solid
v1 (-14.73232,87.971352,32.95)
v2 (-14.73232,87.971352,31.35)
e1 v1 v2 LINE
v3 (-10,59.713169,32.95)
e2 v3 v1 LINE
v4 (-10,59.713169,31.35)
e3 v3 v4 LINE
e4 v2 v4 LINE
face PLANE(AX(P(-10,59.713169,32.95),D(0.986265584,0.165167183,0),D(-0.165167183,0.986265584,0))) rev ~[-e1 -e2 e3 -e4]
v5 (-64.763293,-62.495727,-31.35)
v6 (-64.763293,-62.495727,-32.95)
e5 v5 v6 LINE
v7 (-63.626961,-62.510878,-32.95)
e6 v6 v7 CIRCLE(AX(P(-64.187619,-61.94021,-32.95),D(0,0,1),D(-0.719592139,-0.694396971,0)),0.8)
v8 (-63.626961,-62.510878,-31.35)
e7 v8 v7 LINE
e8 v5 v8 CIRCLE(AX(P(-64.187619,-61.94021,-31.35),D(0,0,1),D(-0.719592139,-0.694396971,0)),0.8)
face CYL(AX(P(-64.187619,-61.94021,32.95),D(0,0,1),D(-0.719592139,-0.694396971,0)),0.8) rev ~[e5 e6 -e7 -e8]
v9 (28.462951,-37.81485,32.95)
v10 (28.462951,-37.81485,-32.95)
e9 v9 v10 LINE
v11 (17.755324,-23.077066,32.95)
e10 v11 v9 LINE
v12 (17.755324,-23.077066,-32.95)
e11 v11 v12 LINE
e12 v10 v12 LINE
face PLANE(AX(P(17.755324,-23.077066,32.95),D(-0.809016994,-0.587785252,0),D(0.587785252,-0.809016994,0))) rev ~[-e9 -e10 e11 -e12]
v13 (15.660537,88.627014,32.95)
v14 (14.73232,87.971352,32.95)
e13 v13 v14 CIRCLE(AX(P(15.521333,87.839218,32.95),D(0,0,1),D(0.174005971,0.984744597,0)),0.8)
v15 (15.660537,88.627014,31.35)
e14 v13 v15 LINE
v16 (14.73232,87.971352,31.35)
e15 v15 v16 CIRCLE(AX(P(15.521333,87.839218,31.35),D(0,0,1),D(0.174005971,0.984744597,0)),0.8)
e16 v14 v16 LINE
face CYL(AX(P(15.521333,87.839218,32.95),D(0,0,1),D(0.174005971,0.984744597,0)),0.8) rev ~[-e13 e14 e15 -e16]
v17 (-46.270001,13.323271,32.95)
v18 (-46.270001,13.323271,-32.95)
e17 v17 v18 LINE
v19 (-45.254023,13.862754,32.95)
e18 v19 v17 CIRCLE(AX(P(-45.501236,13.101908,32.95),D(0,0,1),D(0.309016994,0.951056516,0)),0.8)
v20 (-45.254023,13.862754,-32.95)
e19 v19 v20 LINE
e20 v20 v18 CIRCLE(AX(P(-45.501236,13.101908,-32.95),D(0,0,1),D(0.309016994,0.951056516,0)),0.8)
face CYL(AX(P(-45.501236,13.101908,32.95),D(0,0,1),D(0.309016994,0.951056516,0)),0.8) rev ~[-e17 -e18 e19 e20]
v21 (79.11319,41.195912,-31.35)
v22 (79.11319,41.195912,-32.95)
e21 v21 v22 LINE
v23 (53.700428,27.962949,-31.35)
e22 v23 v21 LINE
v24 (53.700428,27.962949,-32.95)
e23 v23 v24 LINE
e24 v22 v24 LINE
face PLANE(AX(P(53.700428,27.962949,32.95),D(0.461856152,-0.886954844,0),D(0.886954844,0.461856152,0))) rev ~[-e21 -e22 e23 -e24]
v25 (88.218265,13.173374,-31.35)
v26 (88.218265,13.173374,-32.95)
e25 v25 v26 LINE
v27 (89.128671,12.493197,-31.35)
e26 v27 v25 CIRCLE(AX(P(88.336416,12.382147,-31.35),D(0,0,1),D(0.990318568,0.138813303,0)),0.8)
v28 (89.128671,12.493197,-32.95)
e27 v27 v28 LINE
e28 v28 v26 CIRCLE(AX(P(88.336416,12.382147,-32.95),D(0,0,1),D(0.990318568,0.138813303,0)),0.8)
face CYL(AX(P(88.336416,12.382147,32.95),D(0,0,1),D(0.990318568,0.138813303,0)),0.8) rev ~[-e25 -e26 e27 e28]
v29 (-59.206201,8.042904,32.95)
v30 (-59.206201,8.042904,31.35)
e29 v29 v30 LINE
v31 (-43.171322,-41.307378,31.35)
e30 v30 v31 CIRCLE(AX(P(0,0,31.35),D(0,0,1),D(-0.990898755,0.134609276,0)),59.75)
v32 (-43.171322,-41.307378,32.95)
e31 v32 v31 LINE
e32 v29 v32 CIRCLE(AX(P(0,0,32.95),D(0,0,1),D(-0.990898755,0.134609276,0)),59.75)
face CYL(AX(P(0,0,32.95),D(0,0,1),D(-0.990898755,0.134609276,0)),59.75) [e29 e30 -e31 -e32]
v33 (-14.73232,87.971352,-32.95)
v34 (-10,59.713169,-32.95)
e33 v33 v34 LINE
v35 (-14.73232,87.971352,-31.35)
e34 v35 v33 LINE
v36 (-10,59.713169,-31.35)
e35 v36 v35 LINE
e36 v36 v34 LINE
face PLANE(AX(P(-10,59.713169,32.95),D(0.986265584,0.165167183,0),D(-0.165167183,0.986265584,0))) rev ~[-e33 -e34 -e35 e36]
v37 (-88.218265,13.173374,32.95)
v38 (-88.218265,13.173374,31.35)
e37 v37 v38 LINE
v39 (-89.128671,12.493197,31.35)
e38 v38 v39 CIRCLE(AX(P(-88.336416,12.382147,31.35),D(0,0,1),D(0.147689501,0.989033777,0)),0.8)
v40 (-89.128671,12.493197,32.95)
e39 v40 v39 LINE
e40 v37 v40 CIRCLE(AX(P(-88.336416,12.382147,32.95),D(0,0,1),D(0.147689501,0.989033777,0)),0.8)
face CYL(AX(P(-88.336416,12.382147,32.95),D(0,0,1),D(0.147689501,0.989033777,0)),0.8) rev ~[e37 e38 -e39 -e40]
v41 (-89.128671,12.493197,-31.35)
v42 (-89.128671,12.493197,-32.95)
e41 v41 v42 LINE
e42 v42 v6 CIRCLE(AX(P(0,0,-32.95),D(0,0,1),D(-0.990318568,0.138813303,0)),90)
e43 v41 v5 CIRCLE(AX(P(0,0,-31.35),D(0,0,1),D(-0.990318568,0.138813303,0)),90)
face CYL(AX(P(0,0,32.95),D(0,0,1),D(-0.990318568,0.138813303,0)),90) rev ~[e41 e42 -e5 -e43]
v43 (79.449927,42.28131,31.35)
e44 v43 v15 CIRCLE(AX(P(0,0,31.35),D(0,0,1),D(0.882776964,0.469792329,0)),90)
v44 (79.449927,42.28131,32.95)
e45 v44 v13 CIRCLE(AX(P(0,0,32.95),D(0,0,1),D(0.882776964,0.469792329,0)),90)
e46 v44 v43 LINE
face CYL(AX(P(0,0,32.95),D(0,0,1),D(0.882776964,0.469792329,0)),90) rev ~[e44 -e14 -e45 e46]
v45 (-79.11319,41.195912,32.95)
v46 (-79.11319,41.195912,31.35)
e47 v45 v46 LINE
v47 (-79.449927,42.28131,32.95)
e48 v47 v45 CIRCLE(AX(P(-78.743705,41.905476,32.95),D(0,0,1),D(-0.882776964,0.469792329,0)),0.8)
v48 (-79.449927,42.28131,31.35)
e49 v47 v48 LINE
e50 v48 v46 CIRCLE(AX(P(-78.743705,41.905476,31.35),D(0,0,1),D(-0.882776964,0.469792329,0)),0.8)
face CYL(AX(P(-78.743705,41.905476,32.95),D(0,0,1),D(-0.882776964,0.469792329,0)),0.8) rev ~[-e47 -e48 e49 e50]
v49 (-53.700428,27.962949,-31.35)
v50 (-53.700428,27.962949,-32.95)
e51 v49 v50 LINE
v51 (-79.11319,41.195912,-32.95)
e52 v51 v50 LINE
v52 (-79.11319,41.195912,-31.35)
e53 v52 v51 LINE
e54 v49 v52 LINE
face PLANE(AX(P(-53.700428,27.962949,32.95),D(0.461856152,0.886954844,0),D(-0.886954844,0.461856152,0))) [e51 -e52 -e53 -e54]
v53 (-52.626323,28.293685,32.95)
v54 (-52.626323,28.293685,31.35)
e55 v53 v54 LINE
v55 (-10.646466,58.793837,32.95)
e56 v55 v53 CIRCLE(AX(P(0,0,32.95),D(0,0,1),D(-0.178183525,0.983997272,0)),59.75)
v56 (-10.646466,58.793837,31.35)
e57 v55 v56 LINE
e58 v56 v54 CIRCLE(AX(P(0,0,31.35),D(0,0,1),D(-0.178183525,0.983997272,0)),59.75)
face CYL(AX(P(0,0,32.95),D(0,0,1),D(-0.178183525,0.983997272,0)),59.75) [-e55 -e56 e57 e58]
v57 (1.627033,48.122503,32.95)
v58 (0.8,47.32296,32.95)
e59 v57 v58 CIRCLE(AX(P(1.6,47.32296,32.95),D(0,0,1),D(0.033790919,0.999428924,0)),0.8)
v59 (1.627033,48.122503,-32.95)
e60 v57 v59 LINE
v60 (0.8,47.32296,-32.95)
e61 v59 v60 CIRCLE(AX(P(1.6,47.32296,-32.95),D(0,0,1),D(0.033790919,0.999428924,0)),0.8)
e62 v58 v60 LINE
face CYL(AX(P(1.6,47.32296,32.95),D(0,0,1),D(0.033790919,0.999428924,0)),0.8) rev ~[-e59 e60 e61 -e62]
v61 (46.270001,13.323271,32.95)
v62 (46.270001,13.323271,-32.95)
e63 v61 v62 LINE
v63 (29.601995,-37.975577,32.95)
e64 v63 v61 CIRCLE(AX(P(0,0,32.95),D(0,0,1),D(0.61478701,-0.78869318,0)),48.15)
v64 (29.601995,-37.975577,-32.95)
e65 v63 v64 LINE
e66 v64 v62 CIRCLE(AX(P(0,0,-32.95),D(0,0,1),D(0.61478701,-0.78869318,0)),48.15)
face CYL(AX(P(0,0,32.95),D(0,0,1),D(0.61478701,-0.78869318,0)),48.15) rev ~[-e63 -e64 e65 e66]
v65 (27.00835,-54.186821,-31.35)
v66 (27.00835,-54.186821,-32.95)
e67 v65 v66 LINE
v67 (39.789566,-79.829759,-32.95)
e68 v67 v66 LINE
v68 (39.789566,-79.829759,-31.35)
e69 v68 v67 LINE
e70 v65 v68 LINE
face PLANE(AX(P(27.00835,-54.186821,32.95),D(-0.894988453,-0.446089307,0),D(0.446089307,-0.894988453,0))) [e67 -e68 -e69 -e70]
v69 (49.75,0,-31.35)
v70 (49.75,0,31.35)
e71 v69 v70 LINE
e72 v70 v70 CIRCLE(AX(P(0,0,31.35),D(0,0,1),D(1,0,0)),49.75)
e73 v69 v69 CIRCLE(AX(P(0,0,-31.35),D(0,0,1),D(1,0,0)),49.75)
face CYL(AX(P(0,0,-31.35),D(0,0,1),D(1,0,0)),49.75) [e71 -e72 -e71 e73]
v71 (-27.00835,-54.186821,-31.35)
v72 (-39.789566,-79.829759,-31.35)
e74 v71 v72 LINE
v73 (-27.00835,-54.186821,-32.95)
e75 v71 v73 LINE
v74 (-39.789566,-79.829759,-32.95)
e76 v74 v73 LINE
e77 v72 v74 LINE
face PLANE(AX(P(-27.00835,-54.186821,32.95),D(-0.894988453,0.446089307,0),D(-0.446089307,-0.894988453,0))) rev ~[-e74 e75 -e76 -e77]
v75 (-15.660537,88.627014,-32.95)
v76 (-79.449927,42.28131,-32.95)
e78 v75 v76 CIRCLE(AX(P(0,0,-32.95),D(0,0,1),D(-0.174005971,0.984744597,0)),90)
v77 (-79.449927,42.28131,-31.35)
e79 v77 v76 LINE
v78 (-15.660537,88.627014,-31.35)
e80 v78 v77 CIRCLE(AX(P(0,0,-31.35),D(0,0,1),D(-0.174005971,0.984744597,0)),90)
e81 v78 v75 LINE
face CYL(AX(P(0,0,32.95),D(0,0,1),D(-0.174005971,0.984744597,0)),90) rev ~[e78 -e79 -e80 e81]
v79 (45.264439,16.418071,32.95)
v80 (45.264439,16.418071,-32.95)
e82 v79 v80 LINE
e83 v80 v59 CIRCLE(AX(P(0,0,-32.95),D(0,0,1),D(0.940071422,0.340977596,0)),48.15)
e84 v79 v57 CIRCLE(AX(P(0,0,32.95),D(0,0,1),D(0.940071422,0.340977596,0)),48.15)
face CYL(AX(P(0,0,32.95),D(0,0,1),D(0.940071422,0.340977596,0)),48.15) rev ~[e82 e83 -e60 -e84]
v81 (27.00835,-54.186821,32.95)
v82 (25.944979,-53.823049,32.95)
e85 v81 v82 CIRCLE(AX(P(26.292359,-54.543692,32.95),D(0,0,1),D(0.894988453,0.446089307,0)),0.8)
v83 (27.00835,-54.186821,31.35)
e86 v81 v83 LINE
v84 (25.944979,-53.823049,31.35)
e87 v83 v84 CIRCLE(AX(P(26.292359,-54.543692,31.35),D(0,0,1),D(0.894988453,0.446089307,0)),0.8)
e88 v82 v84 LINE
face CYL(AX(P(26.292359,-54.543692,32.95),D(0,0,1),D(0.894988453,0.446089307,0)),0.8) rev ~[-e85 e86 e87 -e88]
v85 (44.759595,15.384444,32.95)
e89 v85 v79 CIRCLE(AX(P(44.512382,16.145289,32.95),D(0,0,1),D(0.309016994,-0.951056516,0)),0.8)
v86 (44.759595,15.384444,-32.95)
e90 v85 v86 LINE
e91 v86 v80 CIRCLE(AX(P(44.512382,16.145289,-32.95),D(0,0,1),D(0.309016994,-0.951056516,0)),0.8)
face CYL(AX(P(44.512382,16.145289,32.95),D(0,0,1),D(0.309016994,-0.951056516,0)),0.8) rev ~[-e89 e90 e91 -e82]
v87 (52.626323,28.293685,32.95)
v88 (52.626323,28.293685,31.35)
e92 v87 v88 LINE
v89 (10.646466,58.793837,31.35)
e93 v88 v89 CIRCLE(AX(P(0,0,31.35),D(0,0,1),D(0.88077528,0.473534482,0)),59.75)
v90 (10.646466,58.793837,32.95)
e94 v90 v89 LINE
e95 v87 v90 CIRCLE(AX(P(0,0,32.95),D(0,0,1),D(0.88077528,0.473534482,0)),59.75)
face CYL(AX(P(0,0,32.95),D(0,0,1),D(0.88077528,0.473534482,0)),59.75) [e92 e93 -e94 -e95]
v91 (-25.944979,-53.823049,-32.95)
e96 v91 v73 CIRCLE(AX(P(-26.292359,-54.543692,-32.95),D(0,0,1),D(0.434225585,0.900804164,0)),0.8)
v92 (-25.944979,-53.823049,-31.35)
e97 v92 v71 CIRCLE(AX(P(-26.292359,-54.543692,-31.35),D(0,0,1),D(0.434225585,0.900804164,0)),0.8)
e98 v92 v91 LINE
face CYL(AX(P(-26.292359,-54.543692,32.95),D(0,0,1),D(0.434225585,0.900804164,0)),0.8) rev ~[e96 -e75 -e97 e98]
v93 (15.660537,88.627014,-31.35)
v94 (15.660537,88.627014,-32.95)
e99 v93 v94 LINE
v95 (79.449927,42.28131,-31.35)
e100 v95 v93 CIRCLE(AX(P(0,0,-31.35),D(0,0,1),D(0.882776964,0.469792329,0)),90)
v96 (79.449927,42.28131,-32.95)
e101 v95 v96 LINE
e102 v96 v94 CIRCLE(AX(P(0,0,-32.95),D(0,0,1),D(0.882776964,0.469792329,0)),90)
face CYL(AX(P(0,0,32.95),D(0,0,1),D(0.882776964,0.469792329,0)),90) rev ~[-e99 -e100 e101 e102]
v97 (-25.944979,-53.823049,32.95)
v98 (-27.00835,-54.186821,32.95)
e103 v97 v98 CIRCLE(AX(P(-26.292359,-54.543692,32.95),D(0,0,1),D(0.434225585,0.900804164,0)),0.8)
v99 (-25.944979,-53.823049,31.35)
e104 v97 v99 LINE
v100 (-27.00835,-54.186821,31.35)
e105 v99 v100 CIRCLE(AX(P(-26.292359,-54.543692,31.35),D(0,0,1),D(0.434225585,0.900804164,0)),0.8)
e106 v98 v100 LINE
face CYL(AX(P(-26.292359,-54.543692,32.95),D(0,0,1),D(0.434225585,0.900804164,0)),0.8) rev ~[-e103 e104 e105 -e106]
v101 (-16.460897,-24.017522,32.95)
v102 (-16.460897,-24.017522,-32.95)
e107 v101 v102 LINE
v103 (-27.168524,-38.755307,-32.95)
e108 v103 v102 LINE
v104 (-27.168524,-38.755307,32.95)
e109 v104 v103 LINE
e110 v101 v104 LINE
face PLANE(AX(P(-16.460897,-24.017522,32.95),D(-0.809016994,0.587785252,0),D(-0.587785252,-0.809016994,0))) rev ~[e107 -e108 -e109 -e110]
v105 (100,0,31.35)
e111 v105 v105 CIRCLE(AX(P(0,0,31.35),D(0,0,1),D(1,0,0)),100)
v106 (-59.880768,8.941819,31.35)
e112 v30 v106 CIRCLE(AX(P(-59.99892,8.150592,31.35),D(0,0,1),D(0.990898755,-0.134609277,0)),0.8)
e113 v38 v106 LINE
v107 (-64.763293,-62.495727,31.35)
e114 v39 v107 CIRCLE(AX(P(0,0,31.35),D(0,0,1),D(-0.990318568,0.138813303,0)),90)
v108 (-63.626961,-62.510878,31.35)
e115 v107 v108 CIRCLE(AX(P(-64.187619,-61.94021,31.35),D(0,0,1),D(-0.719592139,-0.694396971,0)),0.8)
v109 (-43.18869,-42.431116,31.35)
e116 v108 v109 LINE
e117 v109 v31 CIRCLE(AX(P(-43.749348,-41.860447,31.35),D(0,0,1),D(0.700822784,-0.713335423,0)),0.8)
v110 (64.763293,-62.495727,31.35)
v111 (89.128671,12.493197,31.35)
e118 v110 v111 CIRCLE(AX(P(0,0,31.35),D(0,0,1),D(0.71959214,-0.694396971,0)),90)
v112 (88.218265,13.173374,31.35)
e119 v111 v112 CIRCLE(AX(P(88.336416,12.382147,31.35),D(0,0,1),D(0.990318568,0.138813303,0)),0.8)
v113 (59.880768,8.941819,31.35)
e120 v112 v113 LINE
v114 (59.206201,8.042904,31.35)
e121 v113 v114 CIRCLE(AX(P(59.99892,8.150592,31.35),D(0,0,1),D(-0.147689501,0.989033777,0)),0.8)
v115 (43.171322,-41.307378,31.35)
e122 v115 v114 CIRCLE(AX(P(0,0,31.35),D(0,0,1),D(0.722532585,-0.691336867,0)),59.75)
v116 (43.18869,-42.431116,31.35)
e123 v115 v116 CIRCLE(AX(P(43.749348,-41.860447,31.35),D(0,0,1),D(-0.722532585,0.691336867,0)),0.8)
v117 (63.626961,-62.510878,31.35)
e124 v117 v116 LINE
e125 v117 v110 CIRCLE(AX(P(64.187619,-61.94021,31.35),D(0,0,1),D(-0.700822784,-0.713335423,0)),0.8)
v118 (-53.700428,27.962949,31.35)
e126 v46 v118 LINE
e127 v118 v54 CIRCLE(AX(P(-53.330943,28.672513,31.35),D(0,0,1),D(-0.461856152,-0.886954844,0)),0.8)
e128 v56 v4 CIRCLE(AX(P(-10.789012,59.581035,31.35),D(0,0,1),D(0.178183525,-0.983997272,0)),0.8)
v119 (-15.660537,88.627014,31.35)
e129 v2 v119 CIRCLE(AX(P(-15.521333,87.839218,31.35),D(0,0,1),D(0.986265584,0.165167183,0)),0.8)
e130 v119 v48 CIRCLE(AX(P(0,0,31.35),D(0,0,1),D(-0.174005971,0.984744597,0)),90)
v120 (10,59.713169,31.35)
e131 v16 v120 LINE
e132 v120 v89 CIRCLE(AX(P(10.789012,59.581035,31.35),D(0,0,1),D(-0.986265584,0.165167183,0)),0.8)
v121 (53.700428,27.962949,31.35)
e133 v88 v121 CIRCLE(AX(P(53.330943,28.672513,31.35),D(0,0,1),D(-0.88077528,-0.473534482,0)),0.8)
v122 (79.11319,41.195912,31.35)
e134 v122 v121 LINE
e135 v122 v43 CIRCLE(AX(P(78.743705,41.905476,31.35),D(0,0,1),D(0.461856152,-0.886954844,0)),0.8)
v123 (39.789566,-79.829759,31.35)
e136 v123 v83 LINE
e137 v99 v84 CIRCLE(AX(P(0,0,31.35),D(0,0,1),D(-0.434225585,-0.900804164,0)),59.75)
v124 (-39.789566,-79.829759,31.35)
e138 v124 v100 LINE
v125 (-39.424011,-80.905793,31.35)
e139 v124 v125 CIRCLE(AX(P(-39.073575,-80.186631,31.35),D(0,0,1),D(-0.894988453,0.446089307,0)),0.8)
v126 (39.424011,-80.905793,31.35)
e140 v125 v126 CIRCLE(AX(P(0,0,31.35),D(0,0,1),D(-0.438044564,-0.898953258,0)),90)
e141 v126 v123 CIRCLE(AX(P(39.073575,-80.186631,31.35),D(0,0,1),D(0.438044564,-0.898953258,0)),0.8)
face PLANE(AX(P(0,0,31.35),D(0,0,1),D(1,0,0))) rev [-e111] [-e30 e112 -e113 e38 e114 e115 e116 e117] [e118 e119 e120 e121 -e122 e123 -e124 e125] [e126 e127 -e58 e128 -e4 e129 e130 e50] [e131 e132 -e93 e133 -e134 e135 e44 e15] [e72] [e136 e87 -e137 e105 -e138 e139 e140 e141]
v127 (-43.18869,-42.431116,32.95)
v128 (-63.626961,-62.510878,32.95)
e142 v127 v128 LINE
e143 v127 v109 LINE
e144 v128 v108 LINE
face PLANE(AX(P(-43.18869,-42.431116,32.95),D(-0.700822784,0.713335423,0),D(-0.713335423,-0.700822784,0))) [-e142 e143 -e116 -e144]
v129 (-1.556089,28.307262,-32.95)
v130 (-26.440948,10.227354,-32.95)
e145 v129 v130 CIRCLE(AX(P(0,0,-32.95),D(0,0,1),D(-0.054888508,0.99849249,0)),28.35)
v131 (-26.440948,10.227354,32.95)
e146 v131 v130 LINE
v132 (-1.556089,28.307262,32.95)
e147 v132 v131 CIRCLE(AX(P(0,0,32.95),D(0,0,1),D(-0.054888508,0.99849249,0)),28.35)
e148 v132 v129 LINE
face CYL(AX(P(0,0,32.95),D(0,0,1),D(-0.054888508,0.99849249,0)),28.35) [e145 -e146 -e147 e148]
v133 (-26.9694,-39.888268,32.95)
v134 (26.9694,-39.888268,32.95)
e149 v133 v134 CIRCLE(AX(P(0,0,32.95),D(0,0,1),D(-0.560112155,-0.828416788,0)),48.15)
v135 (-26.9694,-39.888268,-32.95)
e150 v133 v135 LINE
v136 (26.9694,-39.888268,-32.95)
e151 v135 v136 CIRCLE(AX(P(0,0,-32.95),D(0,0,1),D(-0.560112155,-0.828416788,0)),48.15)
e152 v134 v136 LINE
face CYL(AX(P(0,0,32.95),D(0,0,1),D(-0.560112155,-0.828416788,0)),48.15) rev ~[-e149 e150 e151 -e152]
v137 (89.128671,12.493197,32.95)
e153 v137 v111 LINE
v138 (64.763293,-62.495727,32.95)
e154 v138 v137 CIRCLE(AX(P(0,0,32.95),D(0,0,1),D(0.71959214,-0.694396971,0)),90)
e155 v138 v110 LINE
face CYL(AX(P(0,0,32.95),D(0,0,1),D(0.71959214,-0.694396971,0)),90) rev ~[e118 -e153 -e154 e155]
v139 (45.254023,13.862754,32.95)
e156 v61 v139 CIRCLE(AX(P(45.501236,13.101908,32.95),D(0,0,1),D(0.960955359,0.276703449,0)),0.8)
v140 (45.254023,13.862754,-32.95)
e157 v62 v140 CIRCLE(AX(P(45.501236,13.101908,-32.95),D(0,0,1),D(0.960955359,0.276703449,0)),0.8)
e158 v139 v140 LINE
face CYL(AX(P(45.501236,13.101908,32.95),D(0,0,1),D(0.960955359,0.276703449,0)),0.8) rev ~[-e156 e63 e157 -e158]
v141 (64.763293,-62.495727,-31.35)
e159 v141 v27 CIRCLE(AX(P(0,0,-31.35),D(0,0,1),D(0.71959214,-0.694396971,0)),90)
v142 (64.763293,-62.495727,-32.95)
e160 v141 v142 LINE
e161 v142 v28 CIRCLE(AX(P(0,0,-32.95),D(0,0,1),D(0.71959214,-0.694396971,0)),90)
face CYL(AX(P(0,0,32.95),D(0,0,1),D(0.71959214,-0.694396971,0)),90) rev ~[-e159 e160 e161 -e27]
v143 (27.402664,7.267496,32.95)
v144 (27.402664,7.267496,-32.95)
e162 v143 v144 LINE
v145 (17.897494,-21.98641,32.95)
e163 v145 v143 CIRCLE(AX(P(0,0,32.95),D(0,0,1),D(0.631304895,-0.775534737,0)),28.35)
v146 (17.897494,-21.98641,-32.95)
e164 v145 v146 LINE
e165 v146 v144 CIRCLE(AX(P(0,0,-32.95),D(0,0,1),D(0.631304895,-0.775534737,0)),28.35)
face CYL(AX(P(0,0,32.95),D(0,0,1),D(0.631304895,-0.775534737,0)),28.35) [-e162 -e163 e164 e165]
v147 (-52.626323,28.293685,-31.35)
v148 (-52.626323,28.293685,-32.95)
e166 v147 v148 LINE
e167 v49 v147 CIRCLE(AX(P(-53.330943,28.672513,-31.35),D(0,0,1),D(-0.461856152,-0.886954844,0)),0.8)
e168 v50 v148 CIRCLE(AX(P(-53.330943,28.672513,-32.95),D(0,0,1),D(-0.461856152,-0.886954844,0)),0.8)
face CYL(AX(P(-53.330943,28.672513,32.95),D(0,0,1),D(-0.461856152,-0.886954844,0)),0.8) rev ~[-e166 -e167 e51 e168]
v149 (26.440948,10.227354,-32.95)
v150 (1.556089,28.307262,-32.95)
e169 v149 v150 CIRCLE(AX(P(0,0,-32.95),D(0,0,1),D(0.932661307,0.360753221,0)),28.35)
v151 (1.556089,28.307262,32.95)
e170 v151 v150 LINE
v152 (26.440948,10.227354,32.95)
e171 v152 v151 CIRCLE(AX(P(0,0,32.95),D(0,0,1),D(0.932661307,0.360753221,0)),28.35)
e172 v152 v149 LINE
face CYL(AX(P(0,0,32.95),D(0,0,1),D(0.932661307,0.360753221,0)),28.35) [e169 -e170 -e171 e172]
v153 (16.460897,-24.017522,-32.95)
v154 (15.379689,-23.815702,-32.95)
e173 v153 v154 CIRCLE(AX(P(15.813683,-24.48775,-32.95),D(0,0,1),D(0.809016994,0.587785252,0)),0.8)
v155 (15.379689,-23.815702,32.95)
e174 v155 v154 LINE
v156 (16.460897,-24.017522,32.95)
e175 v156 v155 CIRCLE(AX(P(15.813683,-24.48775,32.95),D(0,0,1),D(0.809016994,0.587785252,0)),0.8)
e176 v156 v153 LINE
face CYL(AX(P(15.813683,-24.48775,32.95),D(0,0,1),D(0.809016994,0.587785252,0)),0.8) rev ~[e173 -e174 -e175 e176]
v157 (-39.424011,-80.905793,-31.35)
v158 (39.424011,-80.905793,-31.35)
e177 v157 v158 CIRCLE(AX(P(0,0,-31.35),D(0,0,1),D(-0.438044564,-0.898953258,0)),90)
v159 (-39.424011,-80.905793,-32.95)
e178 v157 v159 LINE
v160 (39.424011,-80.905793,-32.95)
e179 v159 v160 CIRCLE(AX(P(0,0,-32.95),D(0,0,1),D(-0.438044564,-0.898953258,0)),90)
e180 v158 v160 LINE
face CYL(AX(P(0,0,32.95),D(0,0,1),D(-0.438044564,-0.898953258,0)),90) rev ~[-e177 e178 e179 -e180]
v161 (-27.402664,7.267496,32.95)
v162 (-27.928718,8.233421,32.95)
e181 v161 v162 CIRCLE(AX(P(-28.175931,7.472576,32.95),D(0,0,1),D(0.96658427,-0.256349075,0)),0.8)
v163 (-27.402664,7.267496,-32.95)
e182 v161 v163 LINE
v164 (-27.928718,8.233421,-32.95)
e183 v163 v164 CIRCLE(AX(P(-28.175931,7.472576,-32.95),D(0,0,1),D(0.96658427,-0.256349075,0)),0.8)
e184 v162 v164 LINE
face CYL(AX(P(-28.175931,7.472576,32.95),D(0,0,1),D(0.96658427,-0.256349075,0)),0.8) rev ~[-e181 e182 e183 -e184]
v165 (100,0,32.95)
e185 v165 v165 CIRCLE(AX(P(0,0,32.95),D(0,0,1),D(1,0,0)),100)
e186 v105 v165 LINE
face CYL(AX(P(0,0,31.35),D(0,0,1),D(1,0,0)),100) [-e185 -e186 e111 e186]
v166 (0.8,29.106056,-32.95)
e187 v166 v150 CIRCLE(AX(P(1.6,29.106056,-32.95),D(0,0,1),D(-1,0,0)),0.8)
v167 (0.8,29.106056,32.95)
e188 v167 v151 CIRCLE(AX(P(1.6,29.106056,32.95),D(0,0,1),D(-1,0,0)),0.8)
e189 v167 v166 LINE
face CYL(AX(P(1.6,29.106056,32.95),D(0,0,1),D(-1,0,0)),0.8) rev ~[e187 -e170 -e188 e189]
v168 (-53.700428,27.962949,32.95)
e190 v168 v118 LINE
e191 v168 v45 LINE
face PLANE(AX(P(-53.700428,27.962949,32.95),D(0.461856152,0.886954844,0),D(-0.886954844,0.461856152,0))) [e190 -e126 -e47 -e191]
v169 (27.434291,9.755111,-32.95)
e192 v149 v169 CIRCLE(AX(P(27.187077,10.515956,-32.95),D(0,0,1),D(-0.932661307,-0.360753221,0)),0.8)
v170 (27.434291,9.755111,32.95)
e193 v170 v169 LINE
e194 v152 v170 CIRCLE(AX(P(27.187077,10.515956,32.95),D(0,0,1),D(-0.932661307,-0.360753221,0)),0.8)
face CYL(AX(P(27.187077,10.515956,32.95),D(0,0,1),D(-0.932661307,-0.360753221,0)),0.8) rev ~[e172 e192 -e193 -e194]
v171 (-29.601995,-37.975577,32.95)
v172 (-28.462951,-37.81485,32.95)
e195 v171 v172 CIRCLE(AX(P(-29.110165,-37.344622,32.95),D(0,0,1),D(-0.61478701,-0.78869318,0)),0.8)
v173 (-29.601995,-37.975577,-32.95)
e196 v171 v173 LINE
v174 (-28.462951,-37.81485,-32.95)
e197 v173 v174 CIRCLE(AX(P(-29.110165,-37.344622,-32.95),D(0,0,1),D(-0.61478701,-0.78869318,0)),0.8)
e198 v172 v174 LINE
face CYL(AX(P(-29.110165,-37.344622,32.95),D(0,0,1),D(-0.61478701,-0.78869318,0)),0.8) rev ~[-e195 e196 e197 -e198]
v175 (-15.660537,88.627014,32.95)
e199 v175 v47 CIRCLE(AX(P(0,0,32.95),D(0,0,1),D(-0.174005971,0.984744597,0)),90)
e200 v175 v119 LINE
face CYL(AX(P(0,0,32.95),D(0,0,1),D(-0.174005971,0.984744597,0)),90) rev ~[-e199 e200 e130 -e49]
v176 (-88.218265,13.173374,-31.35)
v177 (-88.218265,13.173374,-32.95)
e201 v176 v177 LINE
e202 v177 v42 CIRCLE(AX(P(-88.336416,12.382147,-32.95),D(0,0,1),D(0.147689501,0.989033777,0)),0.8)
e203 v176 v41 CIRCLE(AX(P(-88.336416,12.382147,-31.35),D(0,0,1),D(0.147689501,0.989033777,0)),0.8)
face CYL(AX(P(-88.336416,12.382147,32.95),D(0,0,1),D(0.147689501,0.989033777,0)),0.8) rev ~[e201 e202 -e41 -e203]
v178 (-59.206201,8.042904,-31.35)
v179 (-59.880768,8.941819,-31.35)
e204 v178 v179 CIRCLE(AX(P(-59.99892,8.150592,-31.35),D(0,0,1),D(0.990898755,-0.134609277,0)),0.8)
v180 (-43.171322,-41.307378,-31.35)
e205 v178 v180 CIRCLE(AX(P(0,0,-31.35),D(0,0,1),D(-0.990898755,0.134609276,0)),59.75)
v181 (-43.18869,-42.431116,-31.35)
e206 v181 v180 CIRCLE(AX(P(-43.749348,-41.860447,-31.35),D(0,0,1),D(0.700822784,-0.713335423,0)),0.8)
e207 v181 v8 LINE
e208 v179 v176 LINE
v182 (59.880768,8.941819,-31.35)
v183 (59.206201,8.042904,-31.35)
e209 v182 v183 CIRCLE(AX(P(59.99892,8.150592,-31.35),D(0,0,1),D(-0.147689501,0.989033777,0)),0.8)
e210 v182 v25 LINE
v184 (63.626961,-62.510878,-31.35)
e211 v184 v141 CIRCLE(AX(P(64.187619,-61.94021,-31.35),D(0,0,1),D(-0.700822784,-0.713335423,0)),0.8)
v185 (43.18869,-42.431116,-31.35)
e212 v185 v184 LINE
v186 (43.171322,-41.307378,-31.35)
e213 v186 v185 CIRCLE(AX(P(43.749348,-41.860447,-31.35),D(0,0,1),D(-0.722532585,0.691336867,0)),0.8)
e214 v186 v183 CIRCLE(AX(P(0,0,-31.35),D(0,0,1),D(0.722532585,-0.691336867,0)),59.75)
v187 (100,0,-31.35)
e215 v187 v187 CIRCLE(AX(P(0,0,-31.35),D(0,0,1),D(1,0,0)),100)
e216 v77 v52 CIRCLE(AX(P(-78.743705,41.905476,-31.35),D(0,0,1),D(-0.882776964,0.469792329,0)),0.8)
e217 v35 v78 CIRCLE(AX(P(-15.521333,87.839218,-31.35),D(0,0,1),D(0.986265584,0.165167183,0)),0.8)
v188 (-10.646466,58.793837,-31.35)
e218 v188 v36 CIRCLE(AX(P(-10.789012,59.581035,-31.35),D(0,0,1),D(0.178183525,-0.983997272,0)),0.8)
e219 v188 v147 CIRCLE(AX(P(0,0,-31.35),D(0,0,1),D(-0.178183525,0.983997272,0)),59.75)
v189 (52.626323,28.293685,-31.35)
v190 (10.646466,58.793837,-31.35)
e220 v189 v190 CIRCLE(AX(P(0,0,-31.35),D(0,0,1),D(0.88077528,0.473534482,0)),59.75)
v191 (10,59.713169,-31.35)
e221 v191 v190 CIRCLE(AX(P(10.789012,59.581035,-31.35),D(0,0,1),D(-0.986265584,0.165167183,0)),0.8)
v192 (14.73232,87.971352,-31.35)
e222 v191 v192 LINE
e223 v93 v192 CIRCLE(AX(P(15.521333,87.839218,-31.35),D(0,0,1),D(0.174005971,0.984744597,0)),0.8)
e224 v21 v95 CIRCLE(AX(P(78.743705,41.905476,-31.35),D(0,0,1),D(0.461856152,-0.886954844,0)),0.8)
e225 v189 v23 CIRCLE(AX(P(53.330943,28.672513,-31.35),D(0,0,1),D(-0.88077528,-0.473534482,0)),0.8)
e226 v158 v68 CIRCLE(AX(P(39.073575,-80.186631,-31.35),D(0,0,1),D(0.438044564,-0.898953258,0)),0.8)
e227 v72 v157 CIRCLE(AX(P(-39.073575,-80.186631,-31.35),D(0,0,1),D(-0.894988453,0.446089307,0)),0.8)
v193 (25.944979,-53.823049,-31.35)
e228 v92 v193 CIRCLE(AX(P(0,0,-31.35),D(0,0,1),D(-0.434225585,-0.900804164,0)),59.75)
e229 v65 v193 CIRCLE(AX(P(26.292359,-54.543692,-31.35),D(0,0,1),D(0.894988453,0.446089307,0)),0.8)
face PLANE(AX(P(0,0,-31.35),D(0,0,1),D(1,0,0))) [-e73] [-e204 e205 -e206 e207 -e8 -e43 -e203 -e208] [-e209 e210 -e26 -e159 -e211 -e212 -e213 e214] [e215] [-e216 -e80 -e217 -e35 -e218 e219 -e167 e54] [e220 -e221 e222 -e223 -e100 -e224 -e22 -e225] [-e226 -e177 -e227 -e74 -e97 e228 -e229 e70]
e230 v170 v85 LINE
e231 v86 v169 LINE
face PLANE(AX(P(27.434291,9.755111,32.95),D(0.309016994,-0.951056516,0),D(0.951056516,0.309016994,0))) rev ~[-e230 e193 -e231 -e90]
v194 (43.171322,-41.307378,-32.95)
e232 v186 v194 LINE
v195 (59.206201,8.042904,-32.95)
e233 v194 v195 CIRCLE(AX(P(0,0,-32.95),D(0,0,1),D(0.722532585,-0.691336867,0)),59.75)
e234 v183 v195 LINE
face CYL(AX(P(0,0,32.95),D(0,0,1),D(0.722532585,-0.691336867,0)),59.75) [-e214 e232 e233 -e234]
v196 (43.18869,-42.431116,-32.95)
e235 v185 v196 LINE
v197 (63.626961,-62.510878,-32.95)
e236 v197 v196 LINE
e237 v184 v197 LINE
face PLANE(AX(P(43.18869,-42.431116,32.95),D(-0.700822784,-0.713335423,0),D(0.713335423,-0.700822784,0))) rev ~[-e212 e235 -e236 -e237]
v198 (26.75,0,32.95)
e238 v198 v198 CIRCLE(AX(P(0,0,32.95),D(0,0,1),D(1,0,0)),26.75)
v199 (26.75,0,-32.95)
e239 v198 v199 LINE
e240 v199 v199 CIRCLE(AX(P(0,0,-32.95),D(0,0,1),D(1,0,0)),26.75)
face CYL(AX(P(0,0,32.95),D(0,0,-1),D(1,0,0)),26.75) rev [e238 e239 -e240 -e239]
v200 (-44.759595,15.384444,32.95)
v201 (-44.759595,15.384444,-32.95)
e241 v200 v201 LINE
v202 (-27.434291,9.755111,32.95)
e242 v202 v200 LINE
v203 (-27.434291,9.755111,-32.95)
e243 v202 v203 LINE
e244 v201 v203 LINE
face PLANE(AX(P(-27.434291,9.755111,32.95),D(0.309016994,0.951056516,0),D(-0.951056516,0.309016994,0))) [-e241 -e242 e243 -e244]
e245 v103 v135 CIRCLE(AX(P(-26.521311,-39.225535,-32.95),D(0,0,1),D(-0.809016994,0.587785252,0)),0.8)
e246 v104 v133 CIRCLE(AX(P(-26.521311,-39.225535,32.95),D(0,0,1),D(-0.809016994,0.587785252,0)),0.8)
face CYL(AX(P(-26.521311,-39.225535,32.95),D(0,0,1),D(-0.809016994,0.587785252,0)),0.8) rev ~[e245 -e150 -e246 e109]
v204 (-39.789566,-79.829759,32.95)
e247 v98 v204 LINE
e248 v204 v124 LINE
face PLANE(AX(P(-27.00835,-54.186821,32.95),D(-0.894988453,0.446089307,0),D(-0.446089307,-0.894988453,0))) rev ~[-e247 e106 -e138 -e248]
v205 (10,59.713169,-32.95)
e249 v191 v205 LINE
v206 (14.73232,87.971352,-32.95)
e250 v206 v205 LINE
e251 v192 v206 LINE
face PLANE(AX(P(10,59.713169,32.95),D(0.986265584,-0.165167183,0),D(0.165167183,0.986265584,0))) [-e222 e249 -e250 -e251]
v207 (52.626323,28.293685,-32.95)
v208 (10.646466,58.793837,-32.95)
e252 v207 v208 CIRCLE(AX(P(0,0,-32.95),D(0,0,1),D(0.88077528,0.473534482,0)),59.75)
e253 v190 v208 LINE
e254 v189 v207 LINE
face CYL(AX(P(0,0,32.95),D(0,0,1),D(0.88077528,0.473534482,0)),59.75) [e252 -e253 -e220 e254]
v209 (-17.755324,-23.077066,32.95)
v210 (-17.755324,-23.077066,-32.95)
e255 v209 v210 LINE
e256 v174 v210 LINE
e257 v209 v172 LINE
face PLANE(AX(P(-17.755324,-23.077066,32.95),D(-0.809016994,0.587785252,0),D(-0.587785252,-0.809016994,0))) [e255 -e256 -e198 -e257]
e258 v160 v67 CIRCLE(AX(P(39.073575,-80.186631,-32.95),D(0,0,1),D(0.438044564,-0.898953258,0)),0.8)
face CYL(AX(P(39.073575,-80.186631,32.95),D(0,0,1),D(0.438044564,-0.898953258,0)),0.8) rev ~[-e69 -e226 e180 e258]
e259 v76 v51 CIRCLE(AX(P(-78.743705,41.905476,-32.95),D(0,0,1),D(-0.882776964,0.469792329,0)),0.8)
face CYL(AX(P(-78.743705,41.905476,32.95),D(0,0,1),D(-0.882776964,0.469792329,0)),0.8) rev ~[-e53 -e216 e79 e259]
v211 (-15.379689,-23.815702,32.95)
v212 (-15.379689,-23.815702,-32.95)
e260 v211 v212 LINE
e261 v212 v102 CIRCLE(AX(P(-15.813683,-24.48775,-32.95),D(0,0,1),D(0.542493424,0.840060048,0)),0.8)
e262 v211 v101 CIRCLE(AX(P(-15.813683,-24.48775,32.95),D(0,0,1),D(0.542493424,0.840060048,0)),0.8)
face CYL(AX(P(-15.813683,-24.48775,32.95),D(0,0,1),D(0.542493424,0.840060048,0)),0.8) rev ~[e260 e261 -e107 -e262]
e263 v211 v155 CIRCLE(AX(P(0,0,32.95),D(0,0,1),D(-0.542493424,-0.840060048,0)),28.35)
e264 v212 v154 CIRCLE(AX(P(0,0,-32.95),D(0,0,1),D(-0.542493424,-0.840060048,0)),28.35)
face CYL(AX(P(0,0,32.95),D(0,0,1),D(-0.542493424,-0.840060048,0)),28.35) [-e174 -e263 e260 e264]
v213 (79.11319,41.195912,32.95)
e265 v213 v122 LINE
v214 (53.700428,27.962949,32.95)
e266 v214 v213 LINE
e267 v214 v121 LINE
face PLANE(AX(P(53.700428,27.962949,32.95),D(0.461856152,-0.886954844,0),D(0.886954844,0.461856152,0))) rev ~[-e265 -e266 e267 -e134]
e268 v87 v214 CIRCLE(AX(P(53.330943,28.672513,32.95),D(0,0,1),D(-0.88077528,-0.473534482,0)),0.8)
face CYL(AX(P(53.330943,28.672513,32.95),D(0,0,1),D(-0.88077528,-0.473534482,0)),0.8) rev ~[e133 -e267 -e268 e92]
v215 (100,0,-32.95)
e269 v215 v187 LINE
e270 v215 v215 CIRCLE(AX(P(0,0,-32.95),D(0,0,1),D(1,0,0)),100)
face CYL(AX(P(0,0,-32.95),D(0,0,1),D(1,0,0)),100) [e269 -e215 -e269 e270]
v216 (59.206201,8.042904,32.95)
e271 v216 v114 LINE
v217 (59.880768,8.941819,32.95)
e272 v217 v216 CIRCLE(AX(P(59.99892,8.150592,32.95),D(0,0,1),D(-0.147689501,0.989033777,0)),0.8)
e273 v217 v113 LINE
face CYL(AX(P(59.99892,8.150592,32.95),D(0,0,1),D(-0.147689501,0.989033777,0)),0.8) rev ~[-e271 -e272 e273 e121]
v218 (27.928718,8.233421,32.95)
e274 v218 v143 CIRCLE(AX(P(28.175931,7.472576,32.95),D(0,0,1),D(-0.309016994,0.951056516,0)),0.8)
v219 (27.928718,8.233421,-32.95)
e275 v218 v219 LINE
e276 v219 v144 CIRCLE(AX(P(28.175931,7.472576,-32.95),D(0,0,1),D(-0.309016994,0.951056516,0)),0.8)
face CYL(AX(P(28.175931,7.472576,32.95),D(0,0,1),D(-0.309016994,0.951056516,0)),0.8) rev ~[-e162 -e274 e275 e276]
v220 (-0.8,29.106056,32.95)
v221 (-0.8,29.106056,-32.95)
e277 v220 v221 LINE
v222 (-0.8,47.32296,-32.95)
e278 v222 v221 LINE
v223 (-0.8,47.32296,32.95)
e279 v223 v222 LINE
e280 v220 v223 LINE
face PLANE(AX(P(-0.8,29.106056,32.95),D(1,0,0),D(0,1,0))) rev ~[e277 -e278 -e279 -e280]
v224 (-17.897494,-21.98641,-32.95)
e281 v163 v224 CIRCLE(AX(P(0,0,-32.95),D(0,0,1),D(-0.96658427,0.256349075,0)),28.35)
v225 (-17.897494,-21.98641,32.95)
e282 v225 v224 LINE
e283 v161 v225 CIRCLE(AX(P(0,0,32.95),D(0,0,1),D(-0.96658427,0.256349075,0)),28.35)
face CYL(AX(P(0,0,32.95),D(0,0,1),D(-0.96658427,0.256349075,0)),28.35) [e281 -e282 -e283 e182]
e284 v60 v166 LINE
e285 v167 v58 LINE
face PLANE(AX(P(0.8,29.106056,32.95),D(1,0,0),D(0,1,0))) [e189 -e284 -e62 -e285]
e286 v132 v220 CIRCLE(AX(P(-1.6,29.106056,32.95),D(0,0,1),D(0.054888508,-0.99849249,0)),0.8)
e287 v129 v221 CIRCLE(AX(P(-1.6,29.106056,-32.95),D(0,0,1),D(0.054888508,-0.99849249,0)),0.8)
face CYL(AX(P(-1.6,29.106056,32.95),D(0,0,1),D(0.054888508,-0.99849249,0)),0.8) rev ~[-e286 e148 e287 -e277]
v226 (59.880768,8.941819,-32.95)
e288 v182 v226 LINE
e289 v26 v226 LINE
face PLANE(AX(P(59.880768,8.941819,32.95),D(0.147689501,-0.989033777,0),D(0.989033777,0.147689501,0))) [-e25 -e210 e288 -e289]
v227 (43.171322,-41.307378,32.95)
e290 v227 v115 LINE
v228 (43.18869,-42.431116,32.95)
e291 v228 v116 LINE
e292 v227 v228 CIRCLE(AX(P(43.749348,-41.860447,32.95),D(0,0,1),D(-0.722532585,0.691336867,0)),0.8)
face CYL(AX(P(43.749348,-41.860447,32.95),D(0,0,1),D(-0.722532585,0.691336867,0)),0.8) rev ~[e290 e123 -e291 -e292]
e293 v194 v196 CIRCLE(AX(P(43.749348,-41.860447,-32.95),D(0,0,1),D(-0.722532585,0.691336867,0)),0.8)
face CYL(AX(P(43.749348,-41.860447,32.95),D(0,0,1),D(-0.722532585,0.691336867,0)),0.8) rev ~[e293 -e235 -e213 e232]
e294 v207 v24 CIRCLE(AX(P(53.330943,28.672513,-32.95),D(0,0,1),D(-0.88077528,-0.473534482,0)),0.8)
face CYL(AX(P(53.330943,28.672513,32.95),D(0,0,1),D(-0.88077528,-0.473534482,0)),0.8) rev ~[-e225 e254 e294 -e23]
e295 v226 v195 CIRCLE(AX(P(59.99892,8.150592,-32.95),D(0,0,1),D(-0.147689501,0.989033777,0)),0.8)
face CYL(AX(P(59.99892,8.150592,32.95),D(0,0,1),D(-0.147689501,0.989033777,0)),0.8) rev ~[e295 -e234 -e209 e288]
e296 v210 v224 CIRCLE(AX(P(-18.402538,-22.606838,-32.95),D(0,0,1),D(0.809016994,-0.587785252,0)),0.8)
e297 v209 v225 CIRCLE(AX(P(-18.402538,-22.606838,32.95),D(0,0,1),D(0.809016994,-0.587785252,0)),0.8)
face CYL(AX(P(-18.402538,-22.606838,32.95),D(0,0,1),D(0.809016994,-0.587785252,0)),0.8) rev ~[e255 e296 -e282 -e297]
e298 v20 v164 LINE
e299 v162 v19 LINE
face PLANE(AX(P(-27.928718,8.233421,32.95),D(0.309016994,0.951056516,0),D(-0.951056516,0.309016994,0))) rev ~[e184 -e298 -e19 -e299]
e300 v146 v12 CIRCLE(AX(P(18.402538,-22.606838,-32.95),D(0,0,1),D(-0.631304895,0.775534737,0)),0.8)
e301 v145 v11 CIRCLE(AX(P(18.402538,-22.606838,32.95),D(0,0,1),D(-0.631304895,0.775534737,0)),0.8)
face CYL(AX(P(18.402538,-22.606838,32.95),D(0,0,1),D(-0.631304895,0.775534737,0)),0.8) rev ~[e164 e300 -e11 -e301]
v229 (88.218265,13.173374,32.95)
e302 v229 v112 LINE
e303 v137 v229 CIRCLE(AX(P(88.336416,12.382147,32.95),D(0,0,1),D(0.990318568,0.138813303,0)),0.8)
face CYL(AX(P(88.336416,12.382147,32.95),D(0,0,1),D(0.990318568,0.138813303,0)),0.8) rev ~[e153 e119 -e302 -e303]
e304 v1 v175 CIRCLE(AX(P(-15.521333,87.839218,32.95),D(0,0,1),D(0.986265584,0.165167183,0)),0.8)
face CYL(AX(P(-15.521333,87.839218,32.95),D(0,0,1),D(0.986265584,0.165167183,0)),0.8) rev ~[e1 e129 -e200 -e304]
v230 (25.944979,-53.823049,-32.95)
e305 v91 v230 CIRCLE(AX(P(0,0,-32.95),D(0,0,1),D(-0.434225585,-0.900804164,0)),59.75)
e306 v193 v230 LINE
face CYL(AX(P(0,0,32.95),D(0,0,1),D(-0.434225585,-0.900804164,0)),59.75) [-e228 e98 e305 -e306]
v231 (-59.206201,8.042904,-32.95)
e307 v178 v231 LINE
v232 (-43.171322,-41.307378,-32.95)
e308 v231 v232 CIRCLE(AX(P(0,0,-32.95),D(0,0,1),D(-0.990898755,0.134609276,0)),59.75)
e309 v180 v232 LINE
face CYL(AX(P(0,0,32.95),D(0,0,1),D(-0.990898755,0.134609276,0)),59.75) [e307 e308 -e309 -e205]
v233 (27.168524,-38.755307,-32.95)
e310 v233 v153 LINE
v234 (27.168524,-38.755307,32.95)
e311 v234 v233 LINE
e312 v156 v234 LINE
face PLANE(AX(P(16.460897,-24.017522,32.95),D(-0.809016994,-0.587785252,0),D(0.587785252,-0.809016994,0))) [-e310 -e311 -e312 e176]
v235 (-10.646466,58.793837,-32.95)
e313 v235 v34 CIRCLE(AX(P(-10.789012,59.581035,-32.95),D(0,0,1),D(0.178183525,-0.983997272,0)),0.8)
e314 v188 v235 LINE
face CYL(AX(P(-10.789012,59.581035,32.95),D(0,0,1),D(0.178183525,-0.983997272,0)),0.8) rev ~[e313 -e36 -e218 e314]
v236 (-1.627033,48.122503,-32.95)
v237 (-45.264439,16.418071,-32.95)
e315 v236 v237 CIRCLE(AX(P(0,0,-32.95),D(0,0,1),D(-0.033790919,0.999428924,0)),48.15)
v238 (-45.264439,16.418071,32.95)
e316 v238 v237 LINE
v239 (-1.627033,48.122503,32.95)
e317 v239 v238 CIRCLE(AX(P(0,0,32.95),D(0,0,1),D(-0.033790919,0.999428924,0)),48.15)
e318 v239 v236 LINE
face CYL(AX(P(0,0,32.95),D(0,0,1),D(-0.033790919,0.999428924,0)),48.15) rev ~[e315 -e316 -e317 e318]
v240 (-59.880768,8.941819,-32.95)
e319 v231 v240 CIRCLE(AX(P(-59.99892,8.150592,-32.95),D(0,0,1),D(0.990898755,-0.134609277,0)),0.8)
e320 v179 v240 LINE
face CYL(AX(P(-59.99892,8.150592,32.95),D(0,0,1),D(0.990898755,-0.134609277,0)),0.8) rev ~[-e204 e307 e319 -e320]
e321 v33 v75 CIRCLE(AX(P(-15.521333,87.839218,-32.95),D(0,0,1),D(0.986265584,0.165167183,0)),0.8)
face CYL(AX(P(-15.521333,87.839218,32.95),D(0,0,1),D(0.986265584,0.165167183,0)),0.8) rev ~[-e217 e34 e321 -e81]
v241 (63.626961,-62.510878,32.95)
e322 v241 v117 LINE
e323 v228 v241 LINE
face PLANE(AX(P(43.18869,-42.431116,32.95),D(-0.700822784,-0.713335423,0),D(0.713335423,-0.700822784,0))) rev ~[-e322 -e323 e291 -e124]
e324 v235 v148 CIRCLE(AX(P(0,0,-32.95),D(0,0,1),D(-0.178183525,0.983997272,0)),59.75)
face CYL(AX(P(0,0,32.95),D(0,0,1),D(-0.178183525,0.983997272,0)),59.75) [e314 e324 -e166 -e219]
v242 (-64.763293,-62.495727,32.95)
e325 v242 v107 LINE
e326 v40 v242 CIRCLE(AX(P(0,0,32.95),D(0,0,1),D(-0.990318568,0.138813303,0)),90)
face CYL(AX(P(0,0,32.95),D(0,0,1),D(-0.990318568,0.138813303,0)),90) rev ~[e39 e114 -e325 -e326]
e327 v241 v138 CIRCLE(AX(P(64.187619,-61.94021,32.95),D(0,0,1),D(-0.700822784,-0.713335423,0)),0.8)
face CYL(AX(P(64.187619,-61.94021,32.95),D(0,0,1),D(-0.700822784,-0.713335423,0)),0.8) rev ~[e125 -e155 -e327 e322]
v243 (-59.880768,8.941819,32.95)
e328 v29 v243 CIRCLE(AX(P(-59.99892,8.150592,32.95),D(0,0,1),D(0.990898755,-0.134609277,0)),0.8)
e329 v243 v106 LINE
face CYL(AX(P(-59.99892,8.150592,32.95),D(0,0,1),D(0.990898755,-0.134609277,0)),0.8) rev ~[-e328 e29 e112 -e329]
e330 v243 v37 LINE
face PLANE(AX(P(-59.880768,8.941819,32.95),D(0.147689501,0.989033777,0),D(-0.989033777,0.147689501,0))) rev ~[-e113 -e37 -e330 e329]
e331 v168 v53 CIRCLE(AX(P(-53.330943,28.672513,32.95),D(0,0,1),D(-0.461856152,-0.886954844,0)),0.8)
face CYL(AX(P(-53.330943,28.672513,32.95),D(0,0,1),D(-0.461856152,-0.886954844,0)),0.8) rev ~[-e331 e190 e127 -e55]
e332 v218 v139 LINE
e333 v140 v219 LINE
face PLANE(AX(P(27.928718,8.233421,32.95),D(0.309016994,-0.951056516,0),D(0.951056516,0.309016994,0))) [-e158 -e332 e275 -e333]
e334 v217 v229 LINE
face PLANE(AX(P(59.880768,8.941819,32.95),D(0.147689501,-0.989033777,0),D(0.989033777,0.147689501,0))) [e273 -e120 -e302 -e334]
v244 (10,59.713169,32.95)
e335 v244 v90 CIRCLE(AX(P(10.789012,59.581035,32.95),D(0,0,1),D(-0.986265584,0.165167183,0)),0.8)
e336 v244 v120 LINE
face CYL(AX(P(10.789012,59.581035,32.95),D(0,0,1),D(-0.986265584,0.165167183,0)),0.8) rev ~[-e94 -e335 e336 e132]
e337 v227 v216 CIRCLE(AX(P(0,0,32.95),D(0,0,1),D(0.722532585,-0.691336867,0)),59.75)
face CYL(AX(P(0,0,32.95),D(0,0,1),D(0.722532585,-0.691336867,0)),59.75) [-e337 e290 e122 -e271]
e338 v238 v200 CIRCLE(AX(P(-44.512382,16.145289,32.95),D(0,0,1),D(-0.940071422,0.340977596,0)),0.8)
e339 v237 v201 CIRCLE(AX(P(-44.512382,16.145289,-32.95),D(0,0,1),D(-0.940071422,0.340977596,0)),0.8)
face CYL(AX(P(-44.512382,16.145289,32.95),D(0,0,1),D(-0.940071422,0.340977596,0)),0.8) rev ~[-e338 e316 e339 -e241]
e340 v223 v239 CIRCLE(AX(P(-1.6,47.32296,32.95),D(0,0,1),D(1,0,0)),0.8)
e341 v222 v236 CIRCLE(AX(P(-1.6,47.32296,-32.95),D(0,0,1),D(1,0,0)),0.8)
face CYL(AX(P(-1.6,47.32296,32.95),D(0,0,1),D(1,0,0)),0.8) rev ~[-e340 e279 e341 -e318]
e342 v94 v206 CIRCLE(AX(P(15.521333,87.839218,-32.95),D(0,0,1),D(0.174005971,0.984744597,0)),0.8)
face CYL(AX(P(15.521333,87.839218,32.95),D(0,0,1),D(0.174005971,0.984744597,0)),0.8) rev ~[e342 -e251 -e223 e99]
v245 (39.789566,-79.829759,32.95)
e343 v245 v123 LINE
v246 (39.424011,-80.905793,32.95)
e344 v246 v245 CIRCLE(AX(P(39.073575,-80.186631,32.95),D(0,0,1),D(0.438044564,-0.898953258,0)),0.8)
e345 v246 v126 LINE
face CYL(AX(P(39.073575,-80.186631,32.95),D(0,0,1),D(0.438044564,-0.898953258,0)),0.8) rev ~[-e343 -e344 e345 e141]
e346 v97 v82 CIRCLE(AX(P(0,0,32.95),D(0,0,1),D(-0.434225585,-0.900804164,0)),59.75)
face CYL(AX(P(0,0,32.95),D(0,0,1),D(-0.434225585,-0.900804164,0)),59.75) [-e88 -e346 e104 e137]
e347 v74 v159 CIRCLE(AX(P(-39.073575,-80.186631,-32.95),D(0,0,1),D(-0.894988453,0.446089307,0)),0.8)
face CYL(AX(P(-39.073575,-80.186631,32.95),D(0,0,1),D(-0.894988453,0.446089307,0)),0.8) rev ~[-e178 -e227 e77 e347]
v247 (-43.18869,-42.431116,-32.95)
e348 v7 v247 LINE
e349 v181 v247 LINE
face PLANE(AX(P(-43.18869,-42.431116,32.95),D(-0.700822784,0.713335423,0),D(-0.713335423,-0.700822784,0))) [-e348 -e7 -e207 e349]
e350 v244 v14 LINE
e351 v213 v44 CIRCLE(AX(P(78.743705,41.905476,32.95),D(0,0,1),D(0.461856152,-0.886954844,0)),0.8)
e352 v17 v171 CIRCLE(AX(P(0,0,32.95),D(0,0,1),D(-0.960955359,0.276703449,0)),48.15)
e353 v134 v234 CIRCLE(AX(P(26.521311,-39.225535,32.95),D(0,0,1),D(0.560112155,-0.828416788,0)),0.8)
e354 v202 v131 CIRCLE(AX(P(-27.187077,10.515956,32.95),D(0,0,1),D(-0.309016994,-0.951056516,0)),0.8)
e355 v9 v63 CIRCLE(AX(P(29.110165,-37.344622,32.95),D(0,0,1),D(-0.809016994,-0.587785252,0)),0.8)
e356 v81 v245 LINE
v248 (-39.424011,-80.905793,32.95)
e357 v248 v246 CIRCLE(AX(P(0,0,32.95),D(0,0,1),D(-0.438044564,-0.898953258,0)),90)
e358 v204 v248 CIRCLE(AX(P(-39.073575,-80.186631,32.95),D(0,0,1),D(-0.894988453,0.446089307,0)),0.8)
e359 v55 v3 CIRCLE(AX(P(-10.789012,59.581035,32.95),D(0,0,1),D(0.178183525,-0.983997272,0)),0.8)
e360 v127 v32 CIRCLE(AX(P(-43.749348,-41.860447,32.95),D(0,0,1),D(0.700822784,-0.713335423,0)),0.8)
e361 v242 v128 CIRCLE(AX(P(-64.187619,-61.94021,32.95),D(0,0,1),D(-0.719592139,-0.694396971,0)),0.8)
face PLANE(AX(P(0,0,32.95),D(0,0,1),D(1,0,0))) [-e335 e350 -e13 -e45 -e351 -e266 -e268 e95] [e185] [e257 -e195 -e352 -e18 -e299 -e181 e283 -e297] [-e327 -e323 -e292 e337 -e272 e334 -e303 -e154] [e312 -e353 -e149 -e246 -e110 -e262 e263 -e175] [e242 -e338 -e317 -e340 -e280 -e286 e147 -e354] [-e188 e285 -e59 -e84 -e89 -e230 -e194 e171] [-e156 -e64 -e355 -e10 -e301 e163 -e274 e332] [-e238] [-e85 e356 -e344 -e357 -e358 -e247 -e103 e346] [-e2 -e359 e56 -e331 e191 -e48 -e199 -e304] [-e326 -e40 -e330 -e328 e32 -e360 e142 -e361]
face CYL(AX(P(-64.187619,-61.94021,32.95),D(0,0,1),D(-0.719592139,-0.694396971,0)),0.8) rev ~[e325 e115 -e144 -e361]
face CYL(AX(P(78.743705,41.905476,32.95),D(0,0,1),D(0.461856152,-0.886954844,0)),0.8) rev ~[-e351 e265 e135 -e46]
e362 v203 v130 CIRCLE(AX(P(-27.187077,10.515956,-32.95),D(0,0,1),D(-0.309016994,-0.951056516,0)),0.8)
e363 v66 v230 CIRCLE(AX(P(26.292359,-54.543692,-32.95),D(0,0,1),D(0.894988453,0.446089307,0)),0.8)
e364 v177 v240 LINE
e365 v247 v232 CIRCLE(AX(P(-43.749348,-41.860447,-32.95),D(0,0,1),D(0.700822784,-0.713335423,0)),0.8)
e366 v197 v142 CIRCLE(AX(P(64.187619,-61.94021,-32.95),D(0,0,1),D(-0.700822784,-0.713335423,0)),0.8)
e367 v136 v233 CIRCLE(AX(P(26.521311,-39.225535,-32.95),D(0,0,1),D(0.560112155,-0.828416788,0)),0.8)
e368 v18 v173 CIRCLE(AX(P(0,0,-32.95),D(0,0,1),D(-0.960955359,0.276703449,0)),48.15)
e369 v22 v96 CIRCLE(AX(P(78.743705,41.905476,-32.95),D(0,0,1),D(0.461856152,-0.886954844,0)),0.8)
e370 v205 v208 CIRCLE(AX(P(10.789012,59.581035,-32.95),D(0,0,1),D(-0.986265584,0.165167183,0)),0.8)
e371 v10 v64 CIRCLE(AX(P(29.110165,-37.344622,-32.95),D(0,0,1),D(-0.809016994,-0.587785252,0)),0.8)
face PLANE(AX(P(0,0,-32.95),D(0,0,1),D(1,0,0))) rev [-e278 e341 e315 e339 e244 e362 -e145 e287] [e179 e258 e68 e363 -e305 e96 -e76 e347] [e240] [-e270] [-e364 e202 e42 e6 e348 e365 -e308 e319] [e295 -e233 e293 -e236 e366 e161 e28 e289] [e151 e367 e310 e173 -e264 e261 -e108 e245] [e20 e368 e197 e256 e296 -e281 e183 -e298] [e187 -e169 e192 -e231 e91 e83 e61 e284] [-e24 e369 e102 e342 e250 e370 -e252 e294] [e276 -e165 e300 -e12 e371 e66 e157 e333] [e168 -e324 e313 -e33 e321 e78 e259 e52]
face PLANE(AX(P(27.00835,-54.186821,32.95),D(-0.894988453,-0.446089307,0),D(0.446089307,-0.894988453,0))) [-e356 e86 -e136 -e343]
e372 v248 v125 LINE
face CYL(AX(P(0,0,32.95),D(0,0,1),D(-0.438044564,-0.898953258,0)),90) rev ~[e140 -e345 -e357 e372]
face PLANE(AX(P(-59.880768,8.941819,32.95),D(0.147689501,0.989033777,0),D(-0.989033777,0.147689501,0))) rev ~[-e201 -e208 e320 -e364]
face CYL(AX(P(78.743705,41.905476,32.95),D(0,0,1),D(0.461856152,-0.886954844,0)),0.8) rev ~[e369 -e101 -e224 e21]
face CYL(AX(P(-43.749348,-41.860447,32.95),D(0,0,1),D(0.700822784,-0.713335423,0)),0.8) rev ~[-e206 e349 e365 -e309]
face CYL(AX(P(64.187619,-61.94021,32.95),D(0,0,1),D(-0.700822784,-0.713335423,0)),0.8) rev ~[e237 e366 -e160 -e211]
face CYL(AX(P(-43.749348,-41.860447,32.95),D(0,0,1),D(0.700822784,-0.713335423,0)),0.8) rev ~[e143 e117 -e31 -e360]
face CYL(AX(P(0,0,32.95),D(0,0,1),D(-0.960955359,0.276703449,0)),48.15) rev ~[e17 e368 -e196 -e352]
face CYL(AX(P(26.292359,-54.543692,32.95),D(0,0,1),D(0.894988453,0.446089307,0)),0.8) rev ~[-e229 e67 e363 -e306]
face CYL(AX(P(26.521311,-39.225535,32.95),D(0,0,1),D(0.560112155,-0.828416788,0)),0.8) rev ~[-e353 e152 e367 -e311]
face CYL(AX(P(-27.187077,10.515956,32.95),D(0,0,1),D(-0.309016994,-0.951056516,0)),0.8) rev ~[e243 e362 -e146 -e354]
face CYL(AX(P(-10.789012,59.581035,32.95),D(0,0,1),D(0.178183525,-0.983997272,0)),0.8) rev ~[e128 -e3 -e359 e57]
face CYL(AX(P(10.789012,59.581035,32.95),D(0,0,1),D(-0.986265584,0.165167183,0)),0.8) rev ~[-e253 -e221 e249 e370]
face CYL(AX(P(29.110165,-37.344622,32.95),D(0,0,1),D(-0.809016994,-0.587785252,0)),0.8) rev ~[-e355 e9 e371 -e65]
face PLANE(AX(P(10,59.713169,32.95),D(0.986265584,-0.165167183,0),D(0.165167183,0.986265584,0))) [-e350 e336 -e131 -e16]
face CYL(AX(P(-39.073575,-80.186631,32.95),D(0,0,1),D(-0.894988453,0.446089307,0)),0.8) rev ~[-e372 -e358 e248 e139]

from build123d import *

# Parameters (mm, degrees)
POCKET002_DEPTH    = 646.737672396
POLARPATTERN_COUNT = 5


with BuildPart() as part:
    # Sketch010 → Revolution001 (revolve)
    with BuildSketch(Plane.XZ):
        Polygon((26.75, 32.95), (26.75, -32.95), (100, -32.95), (100, -31.35), (49.75, -31.35), (49.75, 31.35), (100, 31.35), (100, 32.95), align=None)
    revolve(axis=Axis((0, 0, 0), (0, 0, 1)))

    # Sketch012 (on Face8 of Revolution001) → Pocket002 (cut, through all)
    with BuildSketch(Plane(origin=(0, 0, 32.95), x_dir=(-1, 0, 0), z_dir=(0, 0, 1))):
        with BuildLine():
            ThreePointArc((15.3796885804, 23.8157023657), (0, 28.35), (-15.3796885804, 23.8157023657))
            ThreePointArc((-16.4608969153, 24.0175222024), (-15.9604769906, 23.7013334549), (-15.3796885804, 23.8157023657))
            Line((-16.4608969153, 24.0175222024), (-27.1685241193, 38.755306697))
            ThreePointArc((-26.9694002475, 39.888268329), (-27.3092336515, 39.3640164673), (-27.1685241193, 38.755306697))
            ThreePointArc((26.9694002475, 39.888268329), (0, 48.15), (-26.9694002475, 39.888268329))
            ThreePointArc((27.1685241193, 38.755306697), (27.3092336515, 39.3640164673), (26.9694002475, 39.888268329))
            Line((16.4608969153, 24.0175222024), (27.1685241193, 38.755306697))
            ThreePointArc((15.3796885804, 23.8157023657), (15.9604769906, 23.7013334549), (16.4608969153, 24.0175222024))
        make_face()
        with BuildLine():
            ThreePointArc((25.9449786764, 53.823048794), (0, 59.75), (-25.9449786764, 53.823048794))
            ThreePointArc((-27.0083499061, 54.1868206795), (-26.5513009975, 53.7867581012), (-25.9449786764, 53.823048794))
            Line((-27.0083499061, 54.1868206795), (-39.7895658353, 79.8297591794))
            ThreePointArc((-39.4240107242, 80.9057932315), (-39.8310568512, 80.4439657297), (-39.7895658353, 79.8297591794))
            ThreePointArc((39.4240107242, 80.9057932315), (0, 90), (-39.4240107242, 80.9057932315))
            ThreePointArc((39.7895658353, 79.8297591794), (39.8310568512, 80.4439657297), (39.4240107242, 80.9057932315))
            Line((27.0083499061, 54.1868206795), (39.7895658353, 79.8297591794))
            ThreePointArc((25.9449786764, 53.823048794), (26.5513009975, 53.7867581012), (27.0083499061, 54.1868206795))
        make_face()
    pocket002 = extrude(amount=-POCKET002_DEPTH, mode=Mode.SUBTRACT)

    # PolarPattern: Pocket002 ×5 about axis
    polarpattern_axis = Axis((0, 0, 32.95), (0, 0, 1))
    for i in range(1, POLARPATTERN_COUNT):
        add(pocket002.rotate(polarpattern_axis, i * 360 / POLARPATTERN_COUNT), mode=Mode.SUBTRACT)


solid = part.part
